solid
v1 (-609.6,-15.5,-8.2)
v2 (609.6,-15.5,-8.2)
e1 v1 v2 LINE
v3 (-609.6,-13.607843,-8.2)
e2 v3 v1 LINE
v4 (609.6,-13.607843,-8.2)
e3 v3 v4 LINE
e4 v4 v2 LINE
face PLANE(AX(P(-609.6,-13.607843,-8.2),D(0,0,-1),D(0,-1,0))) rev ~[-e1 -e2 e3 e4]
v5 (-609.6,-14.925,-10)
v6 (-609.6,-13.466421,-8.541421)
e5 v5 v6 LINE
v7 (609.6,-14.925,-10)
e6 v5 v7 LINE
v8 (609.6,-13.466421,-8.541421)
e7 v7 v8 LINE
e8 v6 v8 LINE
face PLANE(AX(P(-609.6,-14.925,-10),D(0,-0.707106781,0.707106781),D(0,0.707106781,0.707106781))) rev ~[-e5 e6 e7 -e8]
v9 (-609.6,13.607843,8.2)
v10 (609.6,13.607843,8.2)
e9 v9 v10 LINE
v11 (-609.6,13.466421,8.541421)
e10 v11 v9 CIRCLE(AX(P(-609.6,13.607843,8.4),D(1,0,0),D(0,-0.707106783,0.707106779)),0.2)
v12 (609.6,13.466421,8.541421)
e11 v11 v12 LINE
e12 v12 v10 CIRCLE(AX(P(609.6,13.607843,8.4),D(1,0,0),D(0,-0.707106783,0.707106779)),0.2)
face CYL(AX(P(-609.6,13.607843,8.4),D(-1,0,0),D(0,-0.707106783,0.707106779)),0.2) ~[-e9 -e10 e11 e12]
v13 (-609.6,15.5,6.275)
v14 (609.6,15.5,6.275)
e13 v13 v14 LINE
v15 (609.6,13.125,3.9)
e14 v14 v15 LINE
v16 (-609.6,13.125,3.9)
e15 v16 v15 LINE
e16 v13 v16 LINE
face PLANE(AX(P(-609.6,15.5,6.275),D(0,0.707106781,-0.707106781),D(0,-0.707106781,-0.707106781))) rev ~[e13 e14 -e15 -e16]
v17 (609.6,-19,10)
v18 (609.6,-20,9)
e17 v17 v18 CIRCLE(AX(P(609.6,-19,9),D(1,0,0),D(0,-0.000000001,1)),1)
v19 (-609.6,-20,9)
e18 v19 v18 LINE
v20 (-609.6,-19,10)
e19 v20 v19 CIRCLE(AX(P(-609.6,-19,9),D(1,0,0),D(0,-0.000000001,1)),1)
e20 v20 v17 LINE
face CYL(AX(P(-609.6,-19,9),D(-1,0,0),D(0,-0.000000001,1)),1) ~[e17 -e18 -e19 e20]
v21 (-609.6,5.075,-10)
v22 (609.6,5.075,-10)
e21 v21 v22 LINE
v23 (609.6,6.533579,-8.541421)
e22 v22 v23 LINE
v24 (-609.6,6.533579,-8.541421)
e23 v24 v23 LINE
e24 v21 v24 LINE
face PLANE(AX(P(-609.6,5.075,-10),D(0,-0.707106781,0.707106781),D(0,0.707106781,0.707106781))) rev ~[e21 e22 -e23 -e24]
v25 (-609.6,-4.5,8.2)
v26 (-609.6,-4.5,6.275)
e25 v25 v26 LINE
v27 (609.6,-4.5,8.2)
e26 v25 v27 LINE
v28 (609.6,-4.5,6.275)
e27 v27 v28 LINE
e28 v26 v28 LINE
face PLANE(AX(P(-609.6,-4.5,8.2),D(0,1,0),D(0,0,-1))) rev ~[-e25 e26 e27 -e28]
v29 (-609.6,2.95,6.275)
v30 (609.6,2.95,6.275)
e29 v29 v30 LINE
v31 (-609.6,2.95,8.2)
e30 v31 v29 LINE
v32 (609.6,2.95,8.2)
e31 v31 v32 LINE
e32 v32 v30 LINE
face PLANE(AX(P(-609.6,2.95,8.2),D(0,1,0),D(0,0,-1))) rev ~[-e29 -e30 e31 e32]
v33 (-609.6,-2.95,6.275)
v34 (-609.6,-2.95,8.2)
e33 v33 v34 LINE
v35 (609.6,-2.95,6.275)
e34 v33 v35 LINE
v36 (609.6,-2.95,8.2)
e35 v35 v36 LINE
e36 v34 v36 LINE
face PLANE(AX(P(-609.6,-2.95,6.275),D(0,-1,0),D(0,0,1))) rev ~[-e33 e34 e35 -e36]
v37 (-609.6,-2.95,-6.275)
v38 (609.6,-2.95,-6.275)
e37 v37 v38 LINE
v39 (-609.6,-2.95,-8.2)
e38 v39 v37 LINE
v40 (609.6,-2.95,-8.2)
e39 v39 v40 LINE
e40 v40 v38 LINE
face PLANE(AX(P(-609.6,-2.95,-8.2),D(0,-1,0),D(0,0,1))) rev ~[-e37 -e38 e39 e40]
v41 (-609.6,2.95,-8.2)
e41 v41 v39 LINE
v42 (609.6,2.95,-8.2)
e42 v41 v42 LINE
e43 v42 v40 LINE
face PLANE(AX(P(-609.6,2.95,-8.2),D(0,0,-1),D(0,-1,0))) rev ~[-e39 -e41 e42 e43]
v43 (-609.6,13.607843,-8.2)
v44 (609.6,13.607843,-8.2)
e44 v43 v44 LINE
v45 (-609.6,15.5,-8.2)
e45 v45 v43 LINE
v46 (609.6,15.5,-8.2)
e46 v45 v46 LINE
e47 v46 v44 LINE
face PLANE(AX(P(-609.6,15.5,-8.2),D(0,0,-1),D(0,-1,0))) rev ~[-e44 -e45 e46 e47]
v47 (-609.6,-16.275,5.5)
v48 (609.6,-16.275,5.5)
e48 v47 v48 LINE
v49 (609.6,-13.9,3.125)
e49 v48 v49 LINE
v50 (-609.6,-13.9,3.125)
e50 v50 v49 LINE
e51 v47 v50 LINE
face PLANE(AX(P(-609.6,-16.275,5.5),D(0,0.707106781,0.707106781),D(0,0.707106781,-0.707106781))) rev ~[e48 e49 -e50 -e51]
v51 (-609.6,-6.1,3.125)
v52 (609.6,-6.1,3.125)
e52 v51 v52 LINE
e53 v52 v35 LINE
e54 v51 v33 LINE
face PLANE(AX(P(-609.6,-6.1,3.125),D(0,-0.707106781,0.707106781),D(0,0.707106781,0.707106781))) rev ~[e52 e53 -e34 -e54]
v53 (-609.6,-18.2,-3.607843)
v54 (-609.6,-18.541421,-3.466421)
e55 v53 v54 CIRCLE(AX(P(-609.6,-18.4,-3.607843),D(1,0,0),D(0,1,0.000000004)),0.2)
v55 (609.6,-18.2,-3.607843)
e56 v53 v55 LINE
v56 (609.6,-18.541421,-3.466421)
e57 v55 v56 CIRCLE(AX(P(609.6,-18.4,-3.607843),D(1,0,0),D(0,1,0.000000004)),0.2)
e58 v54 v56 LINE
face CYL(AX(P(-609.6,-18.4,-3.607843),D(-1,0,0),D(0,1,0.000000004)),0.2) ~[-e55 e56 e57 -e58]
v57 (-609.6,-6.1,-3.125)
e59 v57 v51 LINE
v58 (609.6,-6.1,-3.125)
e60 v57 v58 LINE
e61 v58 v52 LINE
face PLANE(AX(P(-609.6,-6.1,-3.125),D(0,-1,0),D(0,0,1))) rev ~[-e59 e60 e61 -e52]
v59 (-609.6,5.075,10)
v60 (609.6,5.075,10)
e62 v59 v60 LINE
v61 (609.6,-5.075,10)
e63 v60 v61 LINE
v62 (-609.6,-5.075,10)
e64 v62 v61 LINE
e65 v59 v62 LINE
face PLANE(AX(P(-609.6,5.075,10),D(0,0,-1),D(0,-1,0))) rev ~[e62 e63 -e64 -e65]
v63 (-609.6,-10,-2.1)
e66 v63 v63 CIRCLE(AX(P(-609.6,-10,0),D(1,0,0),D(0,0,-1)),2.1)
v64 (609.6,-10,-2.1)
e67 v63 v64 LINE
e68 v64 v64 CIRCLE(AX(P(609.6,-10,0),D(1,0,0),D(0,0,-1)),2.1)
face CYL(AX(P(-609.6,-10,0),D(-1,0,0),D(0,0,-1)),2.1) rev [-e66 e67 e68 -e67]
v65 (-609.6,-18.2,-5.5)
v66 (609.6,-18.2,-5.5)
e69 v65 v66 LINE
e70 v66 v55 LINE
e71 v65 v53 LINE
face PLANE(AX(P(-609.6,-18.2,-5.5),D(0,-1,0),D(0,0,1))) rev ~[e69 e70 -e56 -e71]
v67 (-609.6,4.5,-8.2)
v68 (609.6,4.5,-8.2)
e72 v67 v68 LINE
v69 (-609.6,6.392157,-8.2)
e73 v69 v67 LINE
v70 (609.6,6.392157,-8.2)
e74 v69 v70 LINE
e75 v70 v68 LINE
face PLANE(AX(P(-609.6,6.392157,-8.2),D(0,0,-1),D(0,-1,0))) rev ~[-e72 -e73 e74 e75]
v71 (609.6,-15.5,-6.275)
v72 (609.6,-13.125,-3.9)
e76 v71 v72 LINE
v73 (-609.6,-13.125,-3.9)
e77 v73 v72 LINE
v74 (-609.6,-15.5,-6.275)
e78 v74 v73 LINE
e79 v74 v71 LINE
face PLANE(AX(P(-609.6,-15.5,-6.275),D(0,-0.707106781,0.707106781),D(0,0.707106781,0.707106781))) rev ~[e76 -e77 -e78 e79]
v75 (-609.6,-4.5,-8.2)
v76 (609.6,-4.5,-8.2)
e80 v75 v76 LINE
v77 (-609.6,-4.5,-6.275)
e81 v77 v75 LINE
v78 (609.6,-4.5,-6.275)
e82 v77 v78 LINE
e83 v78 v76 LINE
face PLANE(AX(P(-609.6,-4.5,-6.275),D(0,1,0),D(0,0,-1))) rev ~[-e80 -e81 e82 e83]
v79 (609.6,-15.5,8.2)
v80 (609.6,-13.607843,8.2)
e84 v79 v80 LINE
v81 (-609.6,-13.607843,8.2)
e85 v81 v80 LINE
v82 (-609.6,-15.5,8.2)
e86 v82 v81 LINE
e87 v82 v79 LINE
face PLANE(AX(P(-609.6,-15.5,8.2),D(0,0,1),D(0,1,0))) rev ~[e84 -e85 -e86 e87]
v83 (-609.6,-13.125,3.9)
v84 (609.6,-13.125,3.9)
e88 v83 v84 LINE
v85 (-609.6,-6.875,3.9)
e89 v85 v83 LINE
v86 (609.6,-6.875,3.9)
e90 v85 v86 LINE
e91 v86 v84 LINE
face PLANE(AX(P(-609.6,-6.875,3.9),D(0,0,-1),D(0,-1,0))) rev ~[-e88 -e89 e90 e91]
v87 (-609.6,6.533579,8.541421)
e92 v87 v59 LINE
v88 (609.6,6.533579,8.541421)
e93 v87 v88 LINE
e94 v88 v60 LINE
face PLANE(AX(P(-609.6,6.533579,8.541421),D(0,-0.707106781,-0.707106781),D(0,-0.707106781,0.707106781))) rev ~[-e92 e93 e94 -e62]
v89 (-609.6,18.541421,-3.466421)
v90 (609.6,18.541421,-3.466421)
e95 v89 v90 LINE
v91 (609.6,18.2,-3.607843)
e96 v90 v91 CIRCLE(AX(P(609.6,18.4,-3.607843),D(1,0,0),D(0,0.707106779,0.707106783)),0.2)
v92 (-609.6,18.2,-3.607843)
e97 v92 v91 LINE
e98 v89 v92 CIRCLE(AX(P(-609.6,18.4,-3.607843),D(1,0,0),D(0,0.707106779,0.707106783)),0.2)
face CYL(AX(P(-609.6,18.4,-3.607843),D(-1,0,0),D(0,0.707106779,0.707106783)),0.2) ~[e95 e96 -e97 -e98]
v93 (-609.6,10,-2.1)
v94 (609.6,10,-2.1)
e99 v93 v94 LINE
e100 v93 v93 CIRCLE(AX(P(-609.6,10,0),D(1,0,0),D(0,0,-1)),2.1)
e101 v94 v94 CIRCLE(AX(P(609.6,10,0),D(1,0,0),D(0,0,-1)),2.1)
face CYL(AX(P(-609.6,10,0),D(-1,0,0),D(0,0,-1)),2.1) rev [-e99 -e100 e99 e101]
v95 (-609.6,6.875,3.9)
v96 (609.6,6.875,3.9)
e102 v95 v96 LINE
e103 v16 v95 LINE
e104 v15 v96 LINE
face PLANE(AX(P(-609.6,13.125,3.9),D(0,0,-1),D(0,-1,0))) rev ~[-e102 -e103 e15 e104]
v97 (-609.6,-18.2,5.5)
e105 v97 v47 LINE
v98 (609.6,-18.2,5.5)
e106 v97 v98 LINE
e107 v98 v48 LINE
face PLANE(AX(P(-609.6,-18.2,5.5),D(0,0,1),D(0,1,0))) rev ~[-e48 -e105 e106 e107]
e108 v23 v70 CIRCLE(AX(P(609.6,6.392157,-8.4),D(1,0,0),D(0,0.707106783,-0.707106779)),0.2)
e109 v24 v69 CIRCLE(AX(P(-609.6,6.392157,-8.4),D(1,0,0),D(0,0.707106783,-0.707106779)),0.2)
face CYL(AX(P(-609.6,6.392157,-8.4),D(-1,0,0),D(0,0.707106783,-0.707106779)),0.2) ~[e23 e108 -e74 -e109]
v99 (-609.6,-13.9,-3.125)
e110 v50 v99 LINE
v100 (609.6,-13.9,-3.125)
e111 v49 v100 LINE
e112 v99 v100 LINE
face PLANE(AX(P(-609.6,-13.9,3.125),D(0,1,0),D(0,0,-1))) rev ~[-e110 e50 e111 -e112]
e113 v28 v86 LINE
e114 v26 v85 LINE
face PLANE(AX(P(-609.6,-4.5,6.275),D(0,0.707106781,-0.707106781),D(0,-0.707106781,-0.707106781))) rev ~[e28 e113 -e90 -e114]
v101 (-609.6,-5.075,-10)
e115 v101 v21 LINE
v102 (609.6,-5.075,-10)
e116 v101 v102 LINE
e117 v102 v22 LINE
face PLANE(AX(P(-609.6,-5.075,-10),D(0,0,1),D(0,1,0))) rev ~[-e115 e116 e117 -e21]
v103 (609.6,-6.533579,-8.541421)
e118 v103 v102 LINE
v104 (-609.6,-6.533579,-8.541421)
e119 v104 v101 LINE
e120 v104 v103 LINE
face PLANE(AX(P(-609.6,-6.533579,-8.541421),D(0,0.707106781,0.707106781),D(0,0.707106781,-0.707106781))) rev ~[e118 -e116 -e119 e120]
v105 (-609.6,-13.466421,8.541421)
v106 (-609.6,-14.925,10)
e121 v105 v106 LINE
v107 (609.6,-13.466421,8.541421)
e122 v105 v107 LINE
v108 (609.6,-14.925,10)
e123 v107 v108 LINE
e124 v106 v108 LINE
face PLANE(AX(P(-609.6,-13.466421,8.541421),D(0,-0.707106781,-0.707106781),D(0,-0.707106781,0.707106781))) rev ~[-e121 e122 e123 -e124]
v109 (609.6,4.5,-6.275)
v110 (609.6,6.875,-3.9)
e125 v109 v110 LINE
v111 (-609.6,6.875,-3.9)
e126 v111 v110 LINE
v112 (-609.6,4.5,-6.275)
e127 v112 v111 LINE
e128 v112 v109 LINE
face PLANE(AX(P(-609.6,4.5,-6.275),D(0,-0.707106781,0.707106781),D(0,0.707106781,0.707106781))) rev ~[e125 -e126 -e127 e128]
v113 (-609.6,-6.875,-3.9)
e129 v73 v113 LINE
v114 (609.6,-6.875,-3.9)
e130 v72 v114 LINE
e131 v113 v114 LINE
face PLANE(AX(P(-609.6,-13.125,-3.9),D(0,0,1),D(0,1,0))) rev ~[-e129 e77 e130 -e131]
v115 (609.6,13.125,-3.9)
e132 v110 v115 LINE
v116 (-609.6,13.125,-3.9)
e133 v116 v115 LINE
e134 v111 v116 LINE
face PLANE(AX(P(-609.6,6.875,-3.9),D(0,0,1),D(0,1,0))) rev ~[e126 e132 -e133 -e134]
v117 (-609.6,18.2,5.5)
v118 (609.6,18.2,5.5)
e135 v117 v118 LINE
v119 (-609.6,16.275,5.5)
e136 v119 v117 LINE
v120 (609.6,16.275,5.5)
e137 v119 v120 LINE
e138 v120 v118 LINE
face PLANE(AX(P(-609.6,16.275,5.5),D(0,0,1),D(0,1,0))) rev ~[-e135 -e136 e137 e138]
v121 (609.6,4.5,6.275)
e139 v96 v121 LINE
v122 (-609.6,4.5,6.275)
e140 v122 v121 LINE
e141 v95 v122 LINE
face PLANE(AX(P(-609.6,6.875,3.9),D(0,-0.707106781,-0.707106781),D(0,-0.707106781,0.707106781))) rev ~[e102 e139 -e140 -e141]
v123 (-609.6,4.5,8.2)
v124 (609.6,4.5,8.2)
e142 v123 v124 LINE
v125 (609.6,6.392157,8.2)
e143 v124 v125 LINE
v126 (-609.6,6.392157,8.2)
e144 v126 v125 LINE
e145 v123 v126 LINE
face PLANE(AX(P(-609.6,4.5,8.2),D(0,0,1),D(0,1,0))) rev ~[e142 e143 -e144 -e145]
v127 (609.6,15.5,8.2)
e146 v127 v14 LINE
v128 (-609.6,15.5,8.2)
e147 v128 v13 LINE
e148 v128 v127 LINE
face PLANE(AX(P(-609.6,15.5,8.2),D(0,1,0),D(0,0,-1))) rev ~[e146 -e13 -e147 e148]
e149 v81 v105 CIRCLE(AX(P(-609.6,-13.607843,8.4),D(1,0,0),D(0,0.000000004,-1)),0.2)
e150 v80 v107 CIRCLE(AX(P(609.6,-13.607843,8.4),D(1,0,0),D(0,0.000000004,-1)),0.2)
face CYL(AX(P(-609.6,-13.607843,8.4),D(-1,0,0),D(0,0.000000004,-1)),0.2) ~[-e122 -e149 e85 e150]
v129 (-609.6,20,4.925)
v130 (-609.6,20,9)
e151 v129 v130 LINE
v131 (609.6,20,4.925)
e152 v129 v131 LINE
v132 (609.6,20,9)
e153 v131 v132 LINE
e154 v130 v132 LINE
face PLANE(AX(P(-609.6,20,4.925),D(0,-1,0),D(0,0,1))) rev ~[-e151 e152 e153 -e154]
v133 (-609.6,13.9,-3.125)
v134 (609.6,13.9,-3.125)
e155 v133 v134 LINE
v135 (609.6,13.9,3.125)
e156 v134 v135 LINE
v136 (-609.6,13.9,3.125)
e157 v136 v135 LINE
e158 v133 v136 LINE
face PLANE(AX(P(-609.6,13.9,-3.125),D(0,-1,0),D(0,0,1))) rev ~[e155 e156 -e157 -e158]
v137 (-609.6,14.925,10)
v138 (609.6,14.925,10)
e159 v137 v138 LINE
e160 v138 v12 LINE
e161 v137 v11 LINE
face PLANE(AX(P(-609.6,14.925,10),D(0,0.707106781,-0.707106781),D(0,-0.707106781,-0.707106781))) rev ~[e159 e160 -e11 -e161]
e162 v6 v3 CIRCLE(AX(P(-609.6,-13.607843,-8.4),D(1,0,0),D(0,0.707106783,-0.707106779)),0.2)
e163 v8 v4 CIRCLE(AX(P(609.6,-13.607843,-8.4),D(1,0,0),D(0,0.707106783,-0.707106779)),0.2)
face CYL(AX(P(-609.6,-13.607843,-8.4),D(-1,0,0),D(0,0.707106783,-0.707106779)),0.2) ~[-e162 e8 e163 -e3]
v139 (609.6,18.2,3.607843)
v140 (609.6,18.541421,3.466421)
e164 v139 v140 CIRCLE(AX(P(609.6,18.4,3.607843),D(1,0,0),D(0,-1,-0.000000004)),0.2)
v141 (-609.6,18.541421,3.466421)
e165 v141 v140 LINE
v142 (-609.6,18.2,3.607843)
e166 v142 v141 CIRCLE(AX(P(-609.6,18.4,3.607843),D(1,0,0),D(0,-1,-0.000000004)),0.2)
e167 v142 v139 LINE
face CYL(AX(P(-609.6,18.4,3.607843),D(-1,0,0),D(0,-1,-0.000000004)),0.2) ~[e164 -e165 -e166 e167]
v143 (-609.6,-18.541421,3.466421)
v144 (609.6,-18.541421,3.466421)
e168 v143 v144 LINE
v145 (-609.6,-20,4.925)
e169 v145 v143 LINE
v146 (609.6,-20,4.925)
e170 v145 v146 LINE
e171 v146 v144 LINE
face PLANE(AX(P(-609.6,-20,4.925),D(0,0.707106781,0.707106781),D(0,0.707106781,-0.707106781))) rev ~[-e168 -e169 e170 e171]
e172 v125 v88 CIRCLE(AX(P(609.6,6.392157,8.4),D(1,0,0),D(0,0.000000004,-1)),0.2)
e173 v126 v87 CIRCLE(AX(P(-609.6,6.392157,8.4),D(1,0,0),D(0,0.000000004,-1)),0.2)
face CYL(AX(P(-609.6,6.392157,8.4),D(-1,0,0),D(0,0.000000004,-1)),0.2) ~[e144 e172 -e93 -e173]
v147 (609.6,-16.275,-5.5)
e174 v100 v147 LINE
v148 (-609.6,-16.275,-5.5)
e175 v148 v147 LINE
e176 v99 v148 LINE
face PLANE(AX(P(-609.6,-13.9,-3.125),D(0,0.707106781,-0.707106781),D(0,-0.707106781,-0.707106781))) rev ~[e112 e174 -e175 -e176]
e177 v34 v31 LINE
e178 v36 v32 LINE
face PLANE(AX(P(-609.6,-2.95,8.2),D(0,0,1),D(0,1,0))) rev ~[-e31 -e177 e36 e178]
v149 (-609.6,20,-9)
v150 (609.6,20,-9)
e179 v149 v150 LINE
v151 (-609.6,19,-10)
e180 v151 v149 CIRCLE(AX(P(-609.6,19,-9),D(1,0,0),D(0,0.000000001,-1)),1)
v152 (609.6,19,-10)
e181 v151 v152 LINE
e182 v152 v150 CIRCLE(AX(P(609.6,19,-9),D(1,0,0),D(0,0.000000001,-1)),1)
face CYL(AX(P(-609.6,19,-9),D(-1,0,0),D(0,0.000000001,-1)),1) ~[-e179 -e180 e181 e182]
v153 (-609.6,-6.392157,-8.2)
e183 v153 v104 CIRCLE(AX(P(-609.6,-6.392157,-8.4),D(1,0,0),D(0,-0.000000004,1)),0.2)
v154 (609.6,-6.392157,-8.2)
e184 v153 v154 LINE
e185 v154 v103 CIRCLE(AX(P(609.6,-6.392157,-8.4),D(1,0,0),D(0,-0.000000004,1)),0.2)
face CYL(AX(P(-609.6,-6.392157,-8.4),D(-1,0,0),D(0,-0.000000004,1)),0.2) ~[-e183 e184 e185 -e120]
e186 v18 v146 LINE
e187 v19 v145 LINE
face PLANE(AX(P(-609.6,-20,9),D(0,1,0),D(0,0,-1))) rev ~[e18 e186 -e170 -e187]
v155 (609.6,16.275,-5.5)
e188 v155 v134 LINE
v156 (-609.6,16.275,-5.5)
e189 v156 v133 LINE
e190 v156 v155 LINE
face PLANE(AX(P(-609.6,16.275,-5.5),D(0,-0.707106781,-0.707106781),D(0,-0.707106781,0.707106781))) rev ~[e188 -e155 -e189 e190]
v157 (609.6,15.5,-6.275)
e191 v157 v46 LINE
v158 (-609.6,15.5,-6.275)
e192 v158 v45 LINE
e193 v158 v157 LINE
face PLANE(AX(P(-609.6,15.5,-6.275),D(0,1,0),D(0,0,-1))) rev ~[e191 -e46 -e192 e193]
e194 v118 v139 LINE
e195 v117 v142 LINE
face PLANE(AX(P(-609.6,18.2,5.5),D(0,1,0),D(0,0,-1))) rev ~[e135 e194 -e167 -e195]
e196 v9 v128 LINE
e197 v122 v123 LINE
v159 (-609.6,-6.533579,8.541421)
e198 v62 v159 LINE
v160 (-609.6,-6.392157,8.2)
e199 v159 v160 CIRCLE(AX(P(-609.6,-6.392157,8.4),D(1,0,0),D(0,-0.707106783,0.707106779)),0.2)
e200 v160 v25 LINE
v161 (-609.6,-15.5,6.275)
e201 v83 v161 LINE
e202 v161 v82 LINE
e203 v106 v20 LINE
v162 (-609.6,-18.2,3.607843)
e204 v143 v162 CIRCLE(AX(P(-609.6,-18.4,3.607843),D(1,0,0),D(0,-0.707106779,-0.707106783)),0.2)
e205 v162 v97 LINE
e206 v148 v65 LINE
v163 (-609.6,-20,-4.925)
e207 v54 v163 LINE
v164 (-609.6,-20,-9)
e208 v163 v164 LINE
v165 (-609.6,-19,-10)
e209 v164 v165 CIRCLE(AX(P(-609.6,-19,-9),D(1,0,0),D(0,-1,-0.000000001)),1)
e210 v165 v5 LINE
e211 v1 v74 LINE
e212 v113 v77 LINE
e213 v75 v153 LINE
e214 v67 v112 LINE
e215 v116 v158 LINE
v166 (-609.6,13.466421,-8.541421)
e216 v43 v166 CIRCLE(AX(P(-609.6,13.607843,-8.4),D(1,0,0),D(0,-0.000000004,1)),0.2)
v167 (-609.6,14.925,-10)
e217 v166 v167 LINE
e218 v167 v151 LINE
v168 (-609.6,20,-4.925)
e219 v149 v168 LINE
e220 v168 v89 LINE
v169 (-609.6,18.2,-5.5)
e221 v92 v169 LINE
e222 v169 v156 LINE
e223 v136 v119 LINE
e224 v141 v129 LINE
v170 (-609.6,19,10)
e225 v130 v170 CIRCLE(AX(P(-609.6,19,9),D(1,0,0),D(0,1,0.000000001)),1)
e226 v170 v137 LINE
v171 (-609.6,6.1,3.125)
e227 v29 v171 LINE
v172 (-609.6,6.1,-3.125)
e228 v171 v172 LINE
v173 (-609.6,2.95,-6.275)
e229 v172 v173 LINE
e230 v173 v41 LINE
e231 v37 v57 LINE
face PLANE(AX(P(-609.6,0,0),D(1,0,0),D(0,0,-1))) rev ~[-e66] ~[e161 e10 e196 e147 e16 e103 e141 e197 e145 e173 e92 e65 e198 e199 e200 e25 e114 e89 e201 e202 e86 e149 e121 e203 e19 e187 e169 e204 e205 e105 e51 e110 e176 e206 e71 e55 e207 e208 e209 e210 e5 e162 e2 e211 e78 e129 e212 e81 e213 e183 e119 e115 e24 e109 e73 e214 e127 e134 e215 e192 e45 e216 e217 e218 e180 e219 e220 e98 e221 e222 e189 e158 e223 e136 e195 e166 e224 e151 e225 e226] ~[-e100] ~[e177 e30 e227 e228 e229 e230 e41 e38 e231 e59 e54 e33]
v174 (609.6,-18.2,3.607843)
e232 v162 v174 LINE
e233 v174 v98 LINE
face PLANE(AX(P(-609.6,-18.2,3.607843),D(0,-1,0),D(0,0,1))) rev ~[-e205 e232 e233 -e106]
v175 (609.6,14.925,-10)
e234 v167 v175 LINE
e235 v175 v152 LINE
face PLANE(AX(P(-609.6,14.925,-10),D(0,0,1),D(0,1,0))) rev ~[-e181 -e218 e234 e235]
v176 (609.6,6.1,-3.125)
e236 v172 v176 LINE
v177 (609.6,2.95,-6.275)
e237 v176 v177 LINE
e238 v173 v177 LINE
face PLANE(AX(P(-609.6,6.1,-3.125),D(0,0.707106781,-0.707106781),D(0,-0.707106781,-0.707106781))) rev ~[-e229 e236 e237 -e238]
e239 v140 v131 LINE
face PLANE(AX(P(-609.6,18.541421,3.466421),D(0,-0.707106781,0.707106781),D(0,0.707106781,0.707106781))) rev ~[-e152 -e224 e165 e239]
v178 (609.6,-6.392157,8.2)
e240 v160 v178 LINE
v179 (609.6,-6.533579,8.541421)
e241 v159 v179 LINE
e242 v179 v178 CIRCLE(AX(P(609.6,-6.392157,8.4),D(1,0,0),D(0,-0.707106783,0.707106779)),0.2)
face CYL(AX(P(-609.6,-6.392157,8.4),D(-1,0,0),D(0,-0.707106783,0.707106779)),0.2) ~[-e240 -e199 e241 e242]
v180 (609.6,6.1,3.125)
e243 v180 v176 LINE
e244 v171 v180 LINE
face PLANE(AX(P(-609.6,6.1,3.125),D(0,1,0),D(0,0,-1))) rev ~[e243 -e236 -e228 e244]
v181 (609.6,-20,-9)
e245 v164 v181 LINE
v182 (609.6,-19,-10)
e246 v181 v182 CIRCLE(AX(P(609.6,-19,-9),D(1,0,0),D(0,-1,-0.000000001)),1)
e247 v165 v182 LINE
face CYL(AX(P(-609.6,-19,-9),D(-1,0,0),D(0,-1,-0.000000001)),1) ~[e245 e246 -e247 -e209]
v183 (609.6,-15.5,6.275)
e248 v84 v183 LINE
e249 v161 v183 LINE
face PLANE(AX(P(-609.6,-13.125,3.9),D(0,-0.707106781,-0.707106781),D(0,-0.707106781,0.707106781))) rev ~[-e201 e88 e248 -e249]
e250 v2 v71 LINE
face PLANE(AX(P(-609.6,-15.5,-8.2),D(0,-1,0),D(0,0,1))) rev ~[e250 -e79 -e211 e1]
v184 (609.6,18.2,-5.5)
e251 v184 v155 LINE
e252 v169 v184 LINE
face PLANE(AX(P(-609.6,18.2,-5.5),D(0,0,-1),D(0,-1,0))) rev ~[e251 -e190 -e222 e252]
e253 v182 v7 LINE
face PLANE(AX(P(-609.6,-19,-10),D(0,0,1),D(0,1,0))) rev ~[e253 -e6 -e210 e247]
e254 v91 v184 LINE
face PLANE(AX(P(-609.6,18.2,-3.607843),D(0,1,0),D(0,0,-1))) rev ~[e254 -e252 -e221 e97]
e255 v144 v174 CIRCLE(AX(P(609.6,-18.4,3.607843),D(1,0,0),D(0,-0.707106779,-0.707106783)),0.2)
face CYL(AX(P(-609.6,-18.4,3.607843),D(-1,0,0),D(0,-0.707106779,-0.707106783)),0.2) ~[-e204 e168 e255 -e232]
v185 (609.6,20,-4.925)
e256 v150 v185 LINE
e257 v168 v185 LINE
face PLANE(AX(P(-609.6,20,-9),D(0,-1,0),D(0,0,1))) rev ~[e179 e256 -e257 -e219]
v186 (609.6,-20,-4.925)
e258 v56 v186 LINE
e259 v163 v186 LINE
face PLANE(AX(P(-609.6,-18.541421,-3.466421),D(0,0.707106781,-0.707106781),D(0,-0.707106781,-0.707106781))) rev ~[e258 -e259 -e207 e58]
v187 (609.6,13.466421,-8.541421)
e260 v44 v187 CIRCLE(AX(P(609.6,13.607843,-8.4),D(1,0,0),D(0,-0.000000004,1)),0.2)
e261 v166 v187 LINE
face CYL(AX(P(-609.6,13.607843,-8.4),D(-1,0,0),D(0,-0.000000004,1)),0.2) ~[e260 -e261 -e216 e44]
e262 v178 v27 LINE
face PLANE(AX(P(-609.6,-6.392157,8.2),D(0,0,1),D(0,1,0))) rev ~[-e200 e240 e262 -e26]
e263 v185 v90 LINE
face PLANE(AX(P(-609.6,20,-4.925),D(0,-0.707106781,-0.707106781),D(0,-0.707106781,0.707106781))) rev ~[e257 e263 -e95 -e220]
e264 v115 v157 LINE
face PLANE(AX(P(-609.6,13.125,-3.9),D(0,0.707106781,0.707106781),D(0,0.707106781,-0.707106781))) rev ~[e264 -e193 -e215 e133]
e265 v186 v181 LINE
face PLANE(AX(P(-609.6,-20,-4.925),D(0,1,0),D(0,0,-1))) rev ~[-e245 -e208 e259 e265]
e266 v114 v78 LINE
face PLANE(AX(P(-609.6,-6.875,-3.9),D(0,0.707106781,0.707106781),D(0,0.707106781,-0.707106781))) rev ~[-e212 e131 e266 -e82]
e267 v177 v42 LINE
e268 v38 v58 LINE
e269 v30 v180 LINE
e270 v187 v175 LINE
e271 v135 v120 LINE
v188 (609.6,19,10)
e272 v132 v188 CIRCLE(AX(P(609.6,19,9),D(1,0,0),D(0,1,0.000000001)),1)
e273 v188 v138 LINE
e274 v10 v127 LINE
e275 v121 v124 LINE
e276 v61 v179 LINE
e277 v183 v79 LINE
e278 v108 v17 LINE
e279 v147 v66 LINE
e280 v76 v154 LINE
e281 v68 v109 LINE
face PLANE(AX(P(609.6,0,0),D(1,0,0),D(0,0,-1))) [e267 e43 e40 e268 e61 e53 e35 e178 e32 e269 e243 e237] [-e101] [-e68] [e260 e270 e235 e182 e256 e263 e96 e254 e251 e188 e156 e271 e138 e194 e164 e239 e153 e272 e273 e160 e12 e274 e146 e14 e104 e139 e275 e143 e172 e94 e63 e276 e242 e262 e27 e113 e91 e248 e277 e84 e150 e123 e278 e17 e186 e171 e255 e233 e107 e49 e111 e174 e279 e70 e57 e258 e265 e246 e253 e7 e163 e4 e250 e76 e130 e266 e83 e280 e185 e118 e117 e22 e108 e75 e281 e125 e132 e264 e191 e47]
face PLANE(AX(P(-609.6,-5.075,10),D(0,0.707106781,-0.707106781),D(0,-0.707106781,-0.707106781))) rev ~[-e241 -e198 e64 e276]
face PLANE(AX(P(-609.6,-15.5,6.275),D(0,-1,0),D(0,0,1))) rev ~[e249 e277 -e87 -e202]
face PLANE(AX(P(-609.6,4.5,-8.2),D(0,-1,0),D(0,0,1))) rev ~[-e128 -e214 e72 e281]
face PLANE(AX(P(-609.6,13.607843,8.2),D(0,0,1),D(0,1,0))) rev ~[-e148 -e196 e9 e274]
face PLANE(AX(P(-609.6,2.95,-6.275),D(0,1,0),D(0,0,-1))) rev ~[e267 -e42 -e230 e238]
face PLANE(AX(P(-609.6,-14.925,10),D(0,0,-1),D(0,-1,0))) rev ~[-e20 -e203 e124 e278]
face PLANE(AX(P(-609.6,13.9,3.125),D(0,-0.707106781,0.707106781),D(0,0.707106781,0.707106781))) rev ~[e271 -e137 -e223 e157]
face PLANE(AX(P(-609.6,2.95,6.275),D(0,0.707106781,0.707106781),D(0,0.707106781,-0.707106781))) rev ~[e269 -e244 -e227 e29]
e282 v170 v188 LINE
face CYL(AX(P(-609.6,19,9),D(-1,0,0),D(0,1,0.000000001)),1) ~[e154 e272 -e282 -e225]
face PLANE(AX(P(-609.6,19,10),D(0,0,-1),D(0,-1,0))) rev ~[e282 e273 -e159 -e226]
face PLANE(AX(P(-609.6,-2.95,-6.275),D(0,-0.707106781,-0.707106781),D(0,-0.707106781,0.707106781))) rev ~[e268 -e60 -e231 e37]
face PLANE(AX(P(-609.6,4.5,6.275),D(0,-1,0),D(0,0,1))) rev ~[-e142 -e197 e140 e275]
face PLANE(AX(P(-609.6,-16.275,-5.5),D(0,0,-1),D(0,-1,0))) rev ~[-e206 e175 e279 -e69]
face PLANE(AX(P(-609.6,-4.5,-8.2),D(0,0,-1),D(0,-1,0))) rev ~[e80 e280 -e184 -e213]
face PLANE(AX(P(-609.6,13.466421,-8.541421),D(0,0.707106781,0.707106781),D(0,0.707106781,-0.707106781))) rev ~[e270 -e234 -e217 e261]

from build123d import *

# Parameters (mm, degrees)
SKETCH12_R             = 2.1
VSLOT2040_2040_2_DEPTH = 1219.2


with BuildPart() as part:
    # Sketch12 → Vslot2040 2040(2) (new body)
    with BuildSketch(Plane(origin=(-609.6, 0, 0), x_dir=(0, 0, -1), z_dir=(1, 0, 0))):
        with BuildLine():
            Line((5.5, -18.2), (3.607842712, -18.2))
            ThreePointArc((3.607842712, -18.2), (3.423066806, -18.323463314), (3.466421356, -18.541421356))
            Line((3.466421356, -18.541421356), (4.925, -20))
            Line((4.925, -20), (9, -20))
            ThreePointArc((9, -20), (9.707106781, -19.707106781), (10, -19))
            Line((10, -19), (10, -14.925))
            Line((10, -14.925), (8.541421356, -13.466421356))
            ThreePointArc((8.541421356, -13.466421356), (8.323463314, -13.423066806), (8.2, -13.607842712))
            Line((8.2, -13.607842712), (8.2, -15.5))
            Line((8.2, -15.5), (6.275, -15.5))
            Line((6.275, -15.5), (3.9, -13.125))
            Line((3.9, -13.125), (3.9, -6.875))
            Line((3.9, -6.875), (6.275, -4.5))
            Line((6.275, -4.5), (8.2, -4.5))
            Line((8.2, -4.5), (8.2, -6.392157288))
            ThreePointArc((8.2, -6.392157288), (8.323463314, -6.576933194), (8.541421356, -6.533578644))
            Line((8.541421356, -6.533578644), (10, -5.075))
            Line((10, -5.075), (10, 5.075))
            Line((10, 5.075), (8.541421356, 6.533578644))
            ThreePointArc((8.541421356, 6.533578644), (8.323463314, 6.576933194), (8.2, 6.392157288))
            Line((8.2, 6.392157288), (8.2, 4.5))
            Line((8.2, 4.5), (6.275, 4.5))
            Line((6.275, 4.5), (3.9, 6.875))
            Line((3.9, 6.875), (3.9, 13.125))
            Line((3.9, 13.125), (6.275, 15.5))
            Line((6.275, 15.5), (8.2, 15.5))
            Line((8.2, 15.5), (8.2, 13.607842712))
            ThreePointArc((8.2, 13.607842712), (8.323463314, 13.423066806), (8.541421356, 13.466421356))
            Line((8.541421356, 13.466421356), (10, 14.925))
            Line((10, 14.925), (10, 19))
            ThreePointArc((10, 19), (9.707106781, 19.707106781), (9, 20))
            Line((9, 20), (4.925, 20))
            Line((4.925, 20), (3.466421356, 18.541421356))
            ThreePointArc((3.466421356, 18.541421356), (3.423066806, 18.323463314), (3.607842712, 18.2))
            Line((3.607842712, 18.2), (5.5, 18.2))
            Line((5.5, 18.2), (5.5, 16.275))
            Line((5.5, 16.275), (3.125, 13.9))
            Line((3.125, 13.9), (-3.125, 13.9))
            Line((-3.125, 13.9), (-5.5, 16.275))
            Line((-5.5, 16.275), (-5.5, 18.2))
            Line((-5.5, 18.2), (-3.607842712, 18.2))
            ThreePointArc((-3.607842712, 18.2), (-3.423066806, 18.323463314), (-3.466421356, 18.541421356))
            Line((-3.466421356, 18.541421356), (-4.925, 20))
            Line((-4.925, 20), (-9, 20))
            ThreePointArc((-9, 20), (-9.707106781, 19.707106781), (-10, 19))
            Line((-10, 19), (-10, 14.925))
            Line((-10, 14.925), (-8.541421356, 13.466421356))
            ThreePointArc((-8.541421356, 13.466421356), (-8.323463314, 13.423066806), (-8.2, 13.607842712))
            Line((-8.2, 13.607842712), (-8.2, 15.5))
            Line((-8.2, 15.5), (-6.275, 15.5))
            Line((-6.275, 15.5), (-3.9, 13.125))
            Line((-3.9, 13.125), (-3.9, 6.875))
            Line((-3.9, 6.875), (-6.275, 4.5))
            Line((-6.275, 4.5), (-8.2, 4.5))
            Line((-8.2, 4.5), (-8.2, 6.392157288))
            ThreePointArc((-8.2, 6.392157288), (-8.323463314, 6.576933194), (-8.541421356, 6.533578644))
            Line((-8.541421356, 6.533578644), (-10, 5.075))
            Line((-10, 5.075), (-10, -5.075))
            Line((-10, -5.075), (-8.541421356, -6.533578644))
            ThreePointArc((-8.541421356, -6.533578644), (-8.323463314, -6.576933194), (-8.2, -6.392157288))
            Line((-8.2, -6.392157288), (-8.2, -4.5))
            Line((-8.2, -4.5), (-6.275, -4.5))
            Line((-6.275, -4.5), (-3.9, -6.875))
            Line((-3.9, -6.875), (-3.9, -13.125))
            Line((-3.9, -13.125), (-6.275, -15.5))
            Line((-6.275, -15.5), (-8.2, -15.5))
            Line((-8.2, -15.5), (-8.2, -13.607842712))
            ThreePointArc((-8.2, -13.607842712), (-8.323463314, -13.423066806), (-8.541421356, -13.466421356))
            Line((-8.541421356, -13.466421356), (-10, -14.925))
            Line((-10, -14.925), (-10, -19))
            ThreePointArc((-10, -19), (-9.707106781, -19.707106781), (-9, -20))
            Line((-9, -20), (-4.925, -20))
            Line((-4.925, -20), (-3.466421356, -18.541421356))
            ThreePointArc((-3.466421356, -18.541421356), (-3.423066806, -18.323463314), (-3.607842712, -18.2))
            Line((-3.607842712, -18.2), (-5.5, -18.2))
            Line((-5.5, -18.2), (-5.5, -16.275))
            Line((-5.5, -16.275), (-3.125, -13.9))
            Line((-3.125, -13.9), (3.125, -13.9))
            Line((3.125, -13.9), (5.5, -16.275))
            Line((5.5, -16.275), (5.5, -18.2))
        make_face()
        with Locations((0, -10)):
            Circle(SKETCH12_R, mode=Mode.SUBTRACT)
        with Locations((0, 10)):
            Circle(SKETCH12_R, mode=Mode.SUBTRACT)
        Polygon((3.125, 6.1), (6.275, 2.95), (8.2, 2.95), (8.2, -2.95), (6.275, -2.95), (3.125, -6.1), (-3.125, -6.1), (-6.275, -2.95), (-8.2, -2.95), (-8.2, 2.95), (-6.275, 2.95), (-3.125, 6.1), align=None, mode=Mode.SUBTRACT)
    extrude(amount=VSLOT2040_2040_2_DEPTH)


solid = part.part
